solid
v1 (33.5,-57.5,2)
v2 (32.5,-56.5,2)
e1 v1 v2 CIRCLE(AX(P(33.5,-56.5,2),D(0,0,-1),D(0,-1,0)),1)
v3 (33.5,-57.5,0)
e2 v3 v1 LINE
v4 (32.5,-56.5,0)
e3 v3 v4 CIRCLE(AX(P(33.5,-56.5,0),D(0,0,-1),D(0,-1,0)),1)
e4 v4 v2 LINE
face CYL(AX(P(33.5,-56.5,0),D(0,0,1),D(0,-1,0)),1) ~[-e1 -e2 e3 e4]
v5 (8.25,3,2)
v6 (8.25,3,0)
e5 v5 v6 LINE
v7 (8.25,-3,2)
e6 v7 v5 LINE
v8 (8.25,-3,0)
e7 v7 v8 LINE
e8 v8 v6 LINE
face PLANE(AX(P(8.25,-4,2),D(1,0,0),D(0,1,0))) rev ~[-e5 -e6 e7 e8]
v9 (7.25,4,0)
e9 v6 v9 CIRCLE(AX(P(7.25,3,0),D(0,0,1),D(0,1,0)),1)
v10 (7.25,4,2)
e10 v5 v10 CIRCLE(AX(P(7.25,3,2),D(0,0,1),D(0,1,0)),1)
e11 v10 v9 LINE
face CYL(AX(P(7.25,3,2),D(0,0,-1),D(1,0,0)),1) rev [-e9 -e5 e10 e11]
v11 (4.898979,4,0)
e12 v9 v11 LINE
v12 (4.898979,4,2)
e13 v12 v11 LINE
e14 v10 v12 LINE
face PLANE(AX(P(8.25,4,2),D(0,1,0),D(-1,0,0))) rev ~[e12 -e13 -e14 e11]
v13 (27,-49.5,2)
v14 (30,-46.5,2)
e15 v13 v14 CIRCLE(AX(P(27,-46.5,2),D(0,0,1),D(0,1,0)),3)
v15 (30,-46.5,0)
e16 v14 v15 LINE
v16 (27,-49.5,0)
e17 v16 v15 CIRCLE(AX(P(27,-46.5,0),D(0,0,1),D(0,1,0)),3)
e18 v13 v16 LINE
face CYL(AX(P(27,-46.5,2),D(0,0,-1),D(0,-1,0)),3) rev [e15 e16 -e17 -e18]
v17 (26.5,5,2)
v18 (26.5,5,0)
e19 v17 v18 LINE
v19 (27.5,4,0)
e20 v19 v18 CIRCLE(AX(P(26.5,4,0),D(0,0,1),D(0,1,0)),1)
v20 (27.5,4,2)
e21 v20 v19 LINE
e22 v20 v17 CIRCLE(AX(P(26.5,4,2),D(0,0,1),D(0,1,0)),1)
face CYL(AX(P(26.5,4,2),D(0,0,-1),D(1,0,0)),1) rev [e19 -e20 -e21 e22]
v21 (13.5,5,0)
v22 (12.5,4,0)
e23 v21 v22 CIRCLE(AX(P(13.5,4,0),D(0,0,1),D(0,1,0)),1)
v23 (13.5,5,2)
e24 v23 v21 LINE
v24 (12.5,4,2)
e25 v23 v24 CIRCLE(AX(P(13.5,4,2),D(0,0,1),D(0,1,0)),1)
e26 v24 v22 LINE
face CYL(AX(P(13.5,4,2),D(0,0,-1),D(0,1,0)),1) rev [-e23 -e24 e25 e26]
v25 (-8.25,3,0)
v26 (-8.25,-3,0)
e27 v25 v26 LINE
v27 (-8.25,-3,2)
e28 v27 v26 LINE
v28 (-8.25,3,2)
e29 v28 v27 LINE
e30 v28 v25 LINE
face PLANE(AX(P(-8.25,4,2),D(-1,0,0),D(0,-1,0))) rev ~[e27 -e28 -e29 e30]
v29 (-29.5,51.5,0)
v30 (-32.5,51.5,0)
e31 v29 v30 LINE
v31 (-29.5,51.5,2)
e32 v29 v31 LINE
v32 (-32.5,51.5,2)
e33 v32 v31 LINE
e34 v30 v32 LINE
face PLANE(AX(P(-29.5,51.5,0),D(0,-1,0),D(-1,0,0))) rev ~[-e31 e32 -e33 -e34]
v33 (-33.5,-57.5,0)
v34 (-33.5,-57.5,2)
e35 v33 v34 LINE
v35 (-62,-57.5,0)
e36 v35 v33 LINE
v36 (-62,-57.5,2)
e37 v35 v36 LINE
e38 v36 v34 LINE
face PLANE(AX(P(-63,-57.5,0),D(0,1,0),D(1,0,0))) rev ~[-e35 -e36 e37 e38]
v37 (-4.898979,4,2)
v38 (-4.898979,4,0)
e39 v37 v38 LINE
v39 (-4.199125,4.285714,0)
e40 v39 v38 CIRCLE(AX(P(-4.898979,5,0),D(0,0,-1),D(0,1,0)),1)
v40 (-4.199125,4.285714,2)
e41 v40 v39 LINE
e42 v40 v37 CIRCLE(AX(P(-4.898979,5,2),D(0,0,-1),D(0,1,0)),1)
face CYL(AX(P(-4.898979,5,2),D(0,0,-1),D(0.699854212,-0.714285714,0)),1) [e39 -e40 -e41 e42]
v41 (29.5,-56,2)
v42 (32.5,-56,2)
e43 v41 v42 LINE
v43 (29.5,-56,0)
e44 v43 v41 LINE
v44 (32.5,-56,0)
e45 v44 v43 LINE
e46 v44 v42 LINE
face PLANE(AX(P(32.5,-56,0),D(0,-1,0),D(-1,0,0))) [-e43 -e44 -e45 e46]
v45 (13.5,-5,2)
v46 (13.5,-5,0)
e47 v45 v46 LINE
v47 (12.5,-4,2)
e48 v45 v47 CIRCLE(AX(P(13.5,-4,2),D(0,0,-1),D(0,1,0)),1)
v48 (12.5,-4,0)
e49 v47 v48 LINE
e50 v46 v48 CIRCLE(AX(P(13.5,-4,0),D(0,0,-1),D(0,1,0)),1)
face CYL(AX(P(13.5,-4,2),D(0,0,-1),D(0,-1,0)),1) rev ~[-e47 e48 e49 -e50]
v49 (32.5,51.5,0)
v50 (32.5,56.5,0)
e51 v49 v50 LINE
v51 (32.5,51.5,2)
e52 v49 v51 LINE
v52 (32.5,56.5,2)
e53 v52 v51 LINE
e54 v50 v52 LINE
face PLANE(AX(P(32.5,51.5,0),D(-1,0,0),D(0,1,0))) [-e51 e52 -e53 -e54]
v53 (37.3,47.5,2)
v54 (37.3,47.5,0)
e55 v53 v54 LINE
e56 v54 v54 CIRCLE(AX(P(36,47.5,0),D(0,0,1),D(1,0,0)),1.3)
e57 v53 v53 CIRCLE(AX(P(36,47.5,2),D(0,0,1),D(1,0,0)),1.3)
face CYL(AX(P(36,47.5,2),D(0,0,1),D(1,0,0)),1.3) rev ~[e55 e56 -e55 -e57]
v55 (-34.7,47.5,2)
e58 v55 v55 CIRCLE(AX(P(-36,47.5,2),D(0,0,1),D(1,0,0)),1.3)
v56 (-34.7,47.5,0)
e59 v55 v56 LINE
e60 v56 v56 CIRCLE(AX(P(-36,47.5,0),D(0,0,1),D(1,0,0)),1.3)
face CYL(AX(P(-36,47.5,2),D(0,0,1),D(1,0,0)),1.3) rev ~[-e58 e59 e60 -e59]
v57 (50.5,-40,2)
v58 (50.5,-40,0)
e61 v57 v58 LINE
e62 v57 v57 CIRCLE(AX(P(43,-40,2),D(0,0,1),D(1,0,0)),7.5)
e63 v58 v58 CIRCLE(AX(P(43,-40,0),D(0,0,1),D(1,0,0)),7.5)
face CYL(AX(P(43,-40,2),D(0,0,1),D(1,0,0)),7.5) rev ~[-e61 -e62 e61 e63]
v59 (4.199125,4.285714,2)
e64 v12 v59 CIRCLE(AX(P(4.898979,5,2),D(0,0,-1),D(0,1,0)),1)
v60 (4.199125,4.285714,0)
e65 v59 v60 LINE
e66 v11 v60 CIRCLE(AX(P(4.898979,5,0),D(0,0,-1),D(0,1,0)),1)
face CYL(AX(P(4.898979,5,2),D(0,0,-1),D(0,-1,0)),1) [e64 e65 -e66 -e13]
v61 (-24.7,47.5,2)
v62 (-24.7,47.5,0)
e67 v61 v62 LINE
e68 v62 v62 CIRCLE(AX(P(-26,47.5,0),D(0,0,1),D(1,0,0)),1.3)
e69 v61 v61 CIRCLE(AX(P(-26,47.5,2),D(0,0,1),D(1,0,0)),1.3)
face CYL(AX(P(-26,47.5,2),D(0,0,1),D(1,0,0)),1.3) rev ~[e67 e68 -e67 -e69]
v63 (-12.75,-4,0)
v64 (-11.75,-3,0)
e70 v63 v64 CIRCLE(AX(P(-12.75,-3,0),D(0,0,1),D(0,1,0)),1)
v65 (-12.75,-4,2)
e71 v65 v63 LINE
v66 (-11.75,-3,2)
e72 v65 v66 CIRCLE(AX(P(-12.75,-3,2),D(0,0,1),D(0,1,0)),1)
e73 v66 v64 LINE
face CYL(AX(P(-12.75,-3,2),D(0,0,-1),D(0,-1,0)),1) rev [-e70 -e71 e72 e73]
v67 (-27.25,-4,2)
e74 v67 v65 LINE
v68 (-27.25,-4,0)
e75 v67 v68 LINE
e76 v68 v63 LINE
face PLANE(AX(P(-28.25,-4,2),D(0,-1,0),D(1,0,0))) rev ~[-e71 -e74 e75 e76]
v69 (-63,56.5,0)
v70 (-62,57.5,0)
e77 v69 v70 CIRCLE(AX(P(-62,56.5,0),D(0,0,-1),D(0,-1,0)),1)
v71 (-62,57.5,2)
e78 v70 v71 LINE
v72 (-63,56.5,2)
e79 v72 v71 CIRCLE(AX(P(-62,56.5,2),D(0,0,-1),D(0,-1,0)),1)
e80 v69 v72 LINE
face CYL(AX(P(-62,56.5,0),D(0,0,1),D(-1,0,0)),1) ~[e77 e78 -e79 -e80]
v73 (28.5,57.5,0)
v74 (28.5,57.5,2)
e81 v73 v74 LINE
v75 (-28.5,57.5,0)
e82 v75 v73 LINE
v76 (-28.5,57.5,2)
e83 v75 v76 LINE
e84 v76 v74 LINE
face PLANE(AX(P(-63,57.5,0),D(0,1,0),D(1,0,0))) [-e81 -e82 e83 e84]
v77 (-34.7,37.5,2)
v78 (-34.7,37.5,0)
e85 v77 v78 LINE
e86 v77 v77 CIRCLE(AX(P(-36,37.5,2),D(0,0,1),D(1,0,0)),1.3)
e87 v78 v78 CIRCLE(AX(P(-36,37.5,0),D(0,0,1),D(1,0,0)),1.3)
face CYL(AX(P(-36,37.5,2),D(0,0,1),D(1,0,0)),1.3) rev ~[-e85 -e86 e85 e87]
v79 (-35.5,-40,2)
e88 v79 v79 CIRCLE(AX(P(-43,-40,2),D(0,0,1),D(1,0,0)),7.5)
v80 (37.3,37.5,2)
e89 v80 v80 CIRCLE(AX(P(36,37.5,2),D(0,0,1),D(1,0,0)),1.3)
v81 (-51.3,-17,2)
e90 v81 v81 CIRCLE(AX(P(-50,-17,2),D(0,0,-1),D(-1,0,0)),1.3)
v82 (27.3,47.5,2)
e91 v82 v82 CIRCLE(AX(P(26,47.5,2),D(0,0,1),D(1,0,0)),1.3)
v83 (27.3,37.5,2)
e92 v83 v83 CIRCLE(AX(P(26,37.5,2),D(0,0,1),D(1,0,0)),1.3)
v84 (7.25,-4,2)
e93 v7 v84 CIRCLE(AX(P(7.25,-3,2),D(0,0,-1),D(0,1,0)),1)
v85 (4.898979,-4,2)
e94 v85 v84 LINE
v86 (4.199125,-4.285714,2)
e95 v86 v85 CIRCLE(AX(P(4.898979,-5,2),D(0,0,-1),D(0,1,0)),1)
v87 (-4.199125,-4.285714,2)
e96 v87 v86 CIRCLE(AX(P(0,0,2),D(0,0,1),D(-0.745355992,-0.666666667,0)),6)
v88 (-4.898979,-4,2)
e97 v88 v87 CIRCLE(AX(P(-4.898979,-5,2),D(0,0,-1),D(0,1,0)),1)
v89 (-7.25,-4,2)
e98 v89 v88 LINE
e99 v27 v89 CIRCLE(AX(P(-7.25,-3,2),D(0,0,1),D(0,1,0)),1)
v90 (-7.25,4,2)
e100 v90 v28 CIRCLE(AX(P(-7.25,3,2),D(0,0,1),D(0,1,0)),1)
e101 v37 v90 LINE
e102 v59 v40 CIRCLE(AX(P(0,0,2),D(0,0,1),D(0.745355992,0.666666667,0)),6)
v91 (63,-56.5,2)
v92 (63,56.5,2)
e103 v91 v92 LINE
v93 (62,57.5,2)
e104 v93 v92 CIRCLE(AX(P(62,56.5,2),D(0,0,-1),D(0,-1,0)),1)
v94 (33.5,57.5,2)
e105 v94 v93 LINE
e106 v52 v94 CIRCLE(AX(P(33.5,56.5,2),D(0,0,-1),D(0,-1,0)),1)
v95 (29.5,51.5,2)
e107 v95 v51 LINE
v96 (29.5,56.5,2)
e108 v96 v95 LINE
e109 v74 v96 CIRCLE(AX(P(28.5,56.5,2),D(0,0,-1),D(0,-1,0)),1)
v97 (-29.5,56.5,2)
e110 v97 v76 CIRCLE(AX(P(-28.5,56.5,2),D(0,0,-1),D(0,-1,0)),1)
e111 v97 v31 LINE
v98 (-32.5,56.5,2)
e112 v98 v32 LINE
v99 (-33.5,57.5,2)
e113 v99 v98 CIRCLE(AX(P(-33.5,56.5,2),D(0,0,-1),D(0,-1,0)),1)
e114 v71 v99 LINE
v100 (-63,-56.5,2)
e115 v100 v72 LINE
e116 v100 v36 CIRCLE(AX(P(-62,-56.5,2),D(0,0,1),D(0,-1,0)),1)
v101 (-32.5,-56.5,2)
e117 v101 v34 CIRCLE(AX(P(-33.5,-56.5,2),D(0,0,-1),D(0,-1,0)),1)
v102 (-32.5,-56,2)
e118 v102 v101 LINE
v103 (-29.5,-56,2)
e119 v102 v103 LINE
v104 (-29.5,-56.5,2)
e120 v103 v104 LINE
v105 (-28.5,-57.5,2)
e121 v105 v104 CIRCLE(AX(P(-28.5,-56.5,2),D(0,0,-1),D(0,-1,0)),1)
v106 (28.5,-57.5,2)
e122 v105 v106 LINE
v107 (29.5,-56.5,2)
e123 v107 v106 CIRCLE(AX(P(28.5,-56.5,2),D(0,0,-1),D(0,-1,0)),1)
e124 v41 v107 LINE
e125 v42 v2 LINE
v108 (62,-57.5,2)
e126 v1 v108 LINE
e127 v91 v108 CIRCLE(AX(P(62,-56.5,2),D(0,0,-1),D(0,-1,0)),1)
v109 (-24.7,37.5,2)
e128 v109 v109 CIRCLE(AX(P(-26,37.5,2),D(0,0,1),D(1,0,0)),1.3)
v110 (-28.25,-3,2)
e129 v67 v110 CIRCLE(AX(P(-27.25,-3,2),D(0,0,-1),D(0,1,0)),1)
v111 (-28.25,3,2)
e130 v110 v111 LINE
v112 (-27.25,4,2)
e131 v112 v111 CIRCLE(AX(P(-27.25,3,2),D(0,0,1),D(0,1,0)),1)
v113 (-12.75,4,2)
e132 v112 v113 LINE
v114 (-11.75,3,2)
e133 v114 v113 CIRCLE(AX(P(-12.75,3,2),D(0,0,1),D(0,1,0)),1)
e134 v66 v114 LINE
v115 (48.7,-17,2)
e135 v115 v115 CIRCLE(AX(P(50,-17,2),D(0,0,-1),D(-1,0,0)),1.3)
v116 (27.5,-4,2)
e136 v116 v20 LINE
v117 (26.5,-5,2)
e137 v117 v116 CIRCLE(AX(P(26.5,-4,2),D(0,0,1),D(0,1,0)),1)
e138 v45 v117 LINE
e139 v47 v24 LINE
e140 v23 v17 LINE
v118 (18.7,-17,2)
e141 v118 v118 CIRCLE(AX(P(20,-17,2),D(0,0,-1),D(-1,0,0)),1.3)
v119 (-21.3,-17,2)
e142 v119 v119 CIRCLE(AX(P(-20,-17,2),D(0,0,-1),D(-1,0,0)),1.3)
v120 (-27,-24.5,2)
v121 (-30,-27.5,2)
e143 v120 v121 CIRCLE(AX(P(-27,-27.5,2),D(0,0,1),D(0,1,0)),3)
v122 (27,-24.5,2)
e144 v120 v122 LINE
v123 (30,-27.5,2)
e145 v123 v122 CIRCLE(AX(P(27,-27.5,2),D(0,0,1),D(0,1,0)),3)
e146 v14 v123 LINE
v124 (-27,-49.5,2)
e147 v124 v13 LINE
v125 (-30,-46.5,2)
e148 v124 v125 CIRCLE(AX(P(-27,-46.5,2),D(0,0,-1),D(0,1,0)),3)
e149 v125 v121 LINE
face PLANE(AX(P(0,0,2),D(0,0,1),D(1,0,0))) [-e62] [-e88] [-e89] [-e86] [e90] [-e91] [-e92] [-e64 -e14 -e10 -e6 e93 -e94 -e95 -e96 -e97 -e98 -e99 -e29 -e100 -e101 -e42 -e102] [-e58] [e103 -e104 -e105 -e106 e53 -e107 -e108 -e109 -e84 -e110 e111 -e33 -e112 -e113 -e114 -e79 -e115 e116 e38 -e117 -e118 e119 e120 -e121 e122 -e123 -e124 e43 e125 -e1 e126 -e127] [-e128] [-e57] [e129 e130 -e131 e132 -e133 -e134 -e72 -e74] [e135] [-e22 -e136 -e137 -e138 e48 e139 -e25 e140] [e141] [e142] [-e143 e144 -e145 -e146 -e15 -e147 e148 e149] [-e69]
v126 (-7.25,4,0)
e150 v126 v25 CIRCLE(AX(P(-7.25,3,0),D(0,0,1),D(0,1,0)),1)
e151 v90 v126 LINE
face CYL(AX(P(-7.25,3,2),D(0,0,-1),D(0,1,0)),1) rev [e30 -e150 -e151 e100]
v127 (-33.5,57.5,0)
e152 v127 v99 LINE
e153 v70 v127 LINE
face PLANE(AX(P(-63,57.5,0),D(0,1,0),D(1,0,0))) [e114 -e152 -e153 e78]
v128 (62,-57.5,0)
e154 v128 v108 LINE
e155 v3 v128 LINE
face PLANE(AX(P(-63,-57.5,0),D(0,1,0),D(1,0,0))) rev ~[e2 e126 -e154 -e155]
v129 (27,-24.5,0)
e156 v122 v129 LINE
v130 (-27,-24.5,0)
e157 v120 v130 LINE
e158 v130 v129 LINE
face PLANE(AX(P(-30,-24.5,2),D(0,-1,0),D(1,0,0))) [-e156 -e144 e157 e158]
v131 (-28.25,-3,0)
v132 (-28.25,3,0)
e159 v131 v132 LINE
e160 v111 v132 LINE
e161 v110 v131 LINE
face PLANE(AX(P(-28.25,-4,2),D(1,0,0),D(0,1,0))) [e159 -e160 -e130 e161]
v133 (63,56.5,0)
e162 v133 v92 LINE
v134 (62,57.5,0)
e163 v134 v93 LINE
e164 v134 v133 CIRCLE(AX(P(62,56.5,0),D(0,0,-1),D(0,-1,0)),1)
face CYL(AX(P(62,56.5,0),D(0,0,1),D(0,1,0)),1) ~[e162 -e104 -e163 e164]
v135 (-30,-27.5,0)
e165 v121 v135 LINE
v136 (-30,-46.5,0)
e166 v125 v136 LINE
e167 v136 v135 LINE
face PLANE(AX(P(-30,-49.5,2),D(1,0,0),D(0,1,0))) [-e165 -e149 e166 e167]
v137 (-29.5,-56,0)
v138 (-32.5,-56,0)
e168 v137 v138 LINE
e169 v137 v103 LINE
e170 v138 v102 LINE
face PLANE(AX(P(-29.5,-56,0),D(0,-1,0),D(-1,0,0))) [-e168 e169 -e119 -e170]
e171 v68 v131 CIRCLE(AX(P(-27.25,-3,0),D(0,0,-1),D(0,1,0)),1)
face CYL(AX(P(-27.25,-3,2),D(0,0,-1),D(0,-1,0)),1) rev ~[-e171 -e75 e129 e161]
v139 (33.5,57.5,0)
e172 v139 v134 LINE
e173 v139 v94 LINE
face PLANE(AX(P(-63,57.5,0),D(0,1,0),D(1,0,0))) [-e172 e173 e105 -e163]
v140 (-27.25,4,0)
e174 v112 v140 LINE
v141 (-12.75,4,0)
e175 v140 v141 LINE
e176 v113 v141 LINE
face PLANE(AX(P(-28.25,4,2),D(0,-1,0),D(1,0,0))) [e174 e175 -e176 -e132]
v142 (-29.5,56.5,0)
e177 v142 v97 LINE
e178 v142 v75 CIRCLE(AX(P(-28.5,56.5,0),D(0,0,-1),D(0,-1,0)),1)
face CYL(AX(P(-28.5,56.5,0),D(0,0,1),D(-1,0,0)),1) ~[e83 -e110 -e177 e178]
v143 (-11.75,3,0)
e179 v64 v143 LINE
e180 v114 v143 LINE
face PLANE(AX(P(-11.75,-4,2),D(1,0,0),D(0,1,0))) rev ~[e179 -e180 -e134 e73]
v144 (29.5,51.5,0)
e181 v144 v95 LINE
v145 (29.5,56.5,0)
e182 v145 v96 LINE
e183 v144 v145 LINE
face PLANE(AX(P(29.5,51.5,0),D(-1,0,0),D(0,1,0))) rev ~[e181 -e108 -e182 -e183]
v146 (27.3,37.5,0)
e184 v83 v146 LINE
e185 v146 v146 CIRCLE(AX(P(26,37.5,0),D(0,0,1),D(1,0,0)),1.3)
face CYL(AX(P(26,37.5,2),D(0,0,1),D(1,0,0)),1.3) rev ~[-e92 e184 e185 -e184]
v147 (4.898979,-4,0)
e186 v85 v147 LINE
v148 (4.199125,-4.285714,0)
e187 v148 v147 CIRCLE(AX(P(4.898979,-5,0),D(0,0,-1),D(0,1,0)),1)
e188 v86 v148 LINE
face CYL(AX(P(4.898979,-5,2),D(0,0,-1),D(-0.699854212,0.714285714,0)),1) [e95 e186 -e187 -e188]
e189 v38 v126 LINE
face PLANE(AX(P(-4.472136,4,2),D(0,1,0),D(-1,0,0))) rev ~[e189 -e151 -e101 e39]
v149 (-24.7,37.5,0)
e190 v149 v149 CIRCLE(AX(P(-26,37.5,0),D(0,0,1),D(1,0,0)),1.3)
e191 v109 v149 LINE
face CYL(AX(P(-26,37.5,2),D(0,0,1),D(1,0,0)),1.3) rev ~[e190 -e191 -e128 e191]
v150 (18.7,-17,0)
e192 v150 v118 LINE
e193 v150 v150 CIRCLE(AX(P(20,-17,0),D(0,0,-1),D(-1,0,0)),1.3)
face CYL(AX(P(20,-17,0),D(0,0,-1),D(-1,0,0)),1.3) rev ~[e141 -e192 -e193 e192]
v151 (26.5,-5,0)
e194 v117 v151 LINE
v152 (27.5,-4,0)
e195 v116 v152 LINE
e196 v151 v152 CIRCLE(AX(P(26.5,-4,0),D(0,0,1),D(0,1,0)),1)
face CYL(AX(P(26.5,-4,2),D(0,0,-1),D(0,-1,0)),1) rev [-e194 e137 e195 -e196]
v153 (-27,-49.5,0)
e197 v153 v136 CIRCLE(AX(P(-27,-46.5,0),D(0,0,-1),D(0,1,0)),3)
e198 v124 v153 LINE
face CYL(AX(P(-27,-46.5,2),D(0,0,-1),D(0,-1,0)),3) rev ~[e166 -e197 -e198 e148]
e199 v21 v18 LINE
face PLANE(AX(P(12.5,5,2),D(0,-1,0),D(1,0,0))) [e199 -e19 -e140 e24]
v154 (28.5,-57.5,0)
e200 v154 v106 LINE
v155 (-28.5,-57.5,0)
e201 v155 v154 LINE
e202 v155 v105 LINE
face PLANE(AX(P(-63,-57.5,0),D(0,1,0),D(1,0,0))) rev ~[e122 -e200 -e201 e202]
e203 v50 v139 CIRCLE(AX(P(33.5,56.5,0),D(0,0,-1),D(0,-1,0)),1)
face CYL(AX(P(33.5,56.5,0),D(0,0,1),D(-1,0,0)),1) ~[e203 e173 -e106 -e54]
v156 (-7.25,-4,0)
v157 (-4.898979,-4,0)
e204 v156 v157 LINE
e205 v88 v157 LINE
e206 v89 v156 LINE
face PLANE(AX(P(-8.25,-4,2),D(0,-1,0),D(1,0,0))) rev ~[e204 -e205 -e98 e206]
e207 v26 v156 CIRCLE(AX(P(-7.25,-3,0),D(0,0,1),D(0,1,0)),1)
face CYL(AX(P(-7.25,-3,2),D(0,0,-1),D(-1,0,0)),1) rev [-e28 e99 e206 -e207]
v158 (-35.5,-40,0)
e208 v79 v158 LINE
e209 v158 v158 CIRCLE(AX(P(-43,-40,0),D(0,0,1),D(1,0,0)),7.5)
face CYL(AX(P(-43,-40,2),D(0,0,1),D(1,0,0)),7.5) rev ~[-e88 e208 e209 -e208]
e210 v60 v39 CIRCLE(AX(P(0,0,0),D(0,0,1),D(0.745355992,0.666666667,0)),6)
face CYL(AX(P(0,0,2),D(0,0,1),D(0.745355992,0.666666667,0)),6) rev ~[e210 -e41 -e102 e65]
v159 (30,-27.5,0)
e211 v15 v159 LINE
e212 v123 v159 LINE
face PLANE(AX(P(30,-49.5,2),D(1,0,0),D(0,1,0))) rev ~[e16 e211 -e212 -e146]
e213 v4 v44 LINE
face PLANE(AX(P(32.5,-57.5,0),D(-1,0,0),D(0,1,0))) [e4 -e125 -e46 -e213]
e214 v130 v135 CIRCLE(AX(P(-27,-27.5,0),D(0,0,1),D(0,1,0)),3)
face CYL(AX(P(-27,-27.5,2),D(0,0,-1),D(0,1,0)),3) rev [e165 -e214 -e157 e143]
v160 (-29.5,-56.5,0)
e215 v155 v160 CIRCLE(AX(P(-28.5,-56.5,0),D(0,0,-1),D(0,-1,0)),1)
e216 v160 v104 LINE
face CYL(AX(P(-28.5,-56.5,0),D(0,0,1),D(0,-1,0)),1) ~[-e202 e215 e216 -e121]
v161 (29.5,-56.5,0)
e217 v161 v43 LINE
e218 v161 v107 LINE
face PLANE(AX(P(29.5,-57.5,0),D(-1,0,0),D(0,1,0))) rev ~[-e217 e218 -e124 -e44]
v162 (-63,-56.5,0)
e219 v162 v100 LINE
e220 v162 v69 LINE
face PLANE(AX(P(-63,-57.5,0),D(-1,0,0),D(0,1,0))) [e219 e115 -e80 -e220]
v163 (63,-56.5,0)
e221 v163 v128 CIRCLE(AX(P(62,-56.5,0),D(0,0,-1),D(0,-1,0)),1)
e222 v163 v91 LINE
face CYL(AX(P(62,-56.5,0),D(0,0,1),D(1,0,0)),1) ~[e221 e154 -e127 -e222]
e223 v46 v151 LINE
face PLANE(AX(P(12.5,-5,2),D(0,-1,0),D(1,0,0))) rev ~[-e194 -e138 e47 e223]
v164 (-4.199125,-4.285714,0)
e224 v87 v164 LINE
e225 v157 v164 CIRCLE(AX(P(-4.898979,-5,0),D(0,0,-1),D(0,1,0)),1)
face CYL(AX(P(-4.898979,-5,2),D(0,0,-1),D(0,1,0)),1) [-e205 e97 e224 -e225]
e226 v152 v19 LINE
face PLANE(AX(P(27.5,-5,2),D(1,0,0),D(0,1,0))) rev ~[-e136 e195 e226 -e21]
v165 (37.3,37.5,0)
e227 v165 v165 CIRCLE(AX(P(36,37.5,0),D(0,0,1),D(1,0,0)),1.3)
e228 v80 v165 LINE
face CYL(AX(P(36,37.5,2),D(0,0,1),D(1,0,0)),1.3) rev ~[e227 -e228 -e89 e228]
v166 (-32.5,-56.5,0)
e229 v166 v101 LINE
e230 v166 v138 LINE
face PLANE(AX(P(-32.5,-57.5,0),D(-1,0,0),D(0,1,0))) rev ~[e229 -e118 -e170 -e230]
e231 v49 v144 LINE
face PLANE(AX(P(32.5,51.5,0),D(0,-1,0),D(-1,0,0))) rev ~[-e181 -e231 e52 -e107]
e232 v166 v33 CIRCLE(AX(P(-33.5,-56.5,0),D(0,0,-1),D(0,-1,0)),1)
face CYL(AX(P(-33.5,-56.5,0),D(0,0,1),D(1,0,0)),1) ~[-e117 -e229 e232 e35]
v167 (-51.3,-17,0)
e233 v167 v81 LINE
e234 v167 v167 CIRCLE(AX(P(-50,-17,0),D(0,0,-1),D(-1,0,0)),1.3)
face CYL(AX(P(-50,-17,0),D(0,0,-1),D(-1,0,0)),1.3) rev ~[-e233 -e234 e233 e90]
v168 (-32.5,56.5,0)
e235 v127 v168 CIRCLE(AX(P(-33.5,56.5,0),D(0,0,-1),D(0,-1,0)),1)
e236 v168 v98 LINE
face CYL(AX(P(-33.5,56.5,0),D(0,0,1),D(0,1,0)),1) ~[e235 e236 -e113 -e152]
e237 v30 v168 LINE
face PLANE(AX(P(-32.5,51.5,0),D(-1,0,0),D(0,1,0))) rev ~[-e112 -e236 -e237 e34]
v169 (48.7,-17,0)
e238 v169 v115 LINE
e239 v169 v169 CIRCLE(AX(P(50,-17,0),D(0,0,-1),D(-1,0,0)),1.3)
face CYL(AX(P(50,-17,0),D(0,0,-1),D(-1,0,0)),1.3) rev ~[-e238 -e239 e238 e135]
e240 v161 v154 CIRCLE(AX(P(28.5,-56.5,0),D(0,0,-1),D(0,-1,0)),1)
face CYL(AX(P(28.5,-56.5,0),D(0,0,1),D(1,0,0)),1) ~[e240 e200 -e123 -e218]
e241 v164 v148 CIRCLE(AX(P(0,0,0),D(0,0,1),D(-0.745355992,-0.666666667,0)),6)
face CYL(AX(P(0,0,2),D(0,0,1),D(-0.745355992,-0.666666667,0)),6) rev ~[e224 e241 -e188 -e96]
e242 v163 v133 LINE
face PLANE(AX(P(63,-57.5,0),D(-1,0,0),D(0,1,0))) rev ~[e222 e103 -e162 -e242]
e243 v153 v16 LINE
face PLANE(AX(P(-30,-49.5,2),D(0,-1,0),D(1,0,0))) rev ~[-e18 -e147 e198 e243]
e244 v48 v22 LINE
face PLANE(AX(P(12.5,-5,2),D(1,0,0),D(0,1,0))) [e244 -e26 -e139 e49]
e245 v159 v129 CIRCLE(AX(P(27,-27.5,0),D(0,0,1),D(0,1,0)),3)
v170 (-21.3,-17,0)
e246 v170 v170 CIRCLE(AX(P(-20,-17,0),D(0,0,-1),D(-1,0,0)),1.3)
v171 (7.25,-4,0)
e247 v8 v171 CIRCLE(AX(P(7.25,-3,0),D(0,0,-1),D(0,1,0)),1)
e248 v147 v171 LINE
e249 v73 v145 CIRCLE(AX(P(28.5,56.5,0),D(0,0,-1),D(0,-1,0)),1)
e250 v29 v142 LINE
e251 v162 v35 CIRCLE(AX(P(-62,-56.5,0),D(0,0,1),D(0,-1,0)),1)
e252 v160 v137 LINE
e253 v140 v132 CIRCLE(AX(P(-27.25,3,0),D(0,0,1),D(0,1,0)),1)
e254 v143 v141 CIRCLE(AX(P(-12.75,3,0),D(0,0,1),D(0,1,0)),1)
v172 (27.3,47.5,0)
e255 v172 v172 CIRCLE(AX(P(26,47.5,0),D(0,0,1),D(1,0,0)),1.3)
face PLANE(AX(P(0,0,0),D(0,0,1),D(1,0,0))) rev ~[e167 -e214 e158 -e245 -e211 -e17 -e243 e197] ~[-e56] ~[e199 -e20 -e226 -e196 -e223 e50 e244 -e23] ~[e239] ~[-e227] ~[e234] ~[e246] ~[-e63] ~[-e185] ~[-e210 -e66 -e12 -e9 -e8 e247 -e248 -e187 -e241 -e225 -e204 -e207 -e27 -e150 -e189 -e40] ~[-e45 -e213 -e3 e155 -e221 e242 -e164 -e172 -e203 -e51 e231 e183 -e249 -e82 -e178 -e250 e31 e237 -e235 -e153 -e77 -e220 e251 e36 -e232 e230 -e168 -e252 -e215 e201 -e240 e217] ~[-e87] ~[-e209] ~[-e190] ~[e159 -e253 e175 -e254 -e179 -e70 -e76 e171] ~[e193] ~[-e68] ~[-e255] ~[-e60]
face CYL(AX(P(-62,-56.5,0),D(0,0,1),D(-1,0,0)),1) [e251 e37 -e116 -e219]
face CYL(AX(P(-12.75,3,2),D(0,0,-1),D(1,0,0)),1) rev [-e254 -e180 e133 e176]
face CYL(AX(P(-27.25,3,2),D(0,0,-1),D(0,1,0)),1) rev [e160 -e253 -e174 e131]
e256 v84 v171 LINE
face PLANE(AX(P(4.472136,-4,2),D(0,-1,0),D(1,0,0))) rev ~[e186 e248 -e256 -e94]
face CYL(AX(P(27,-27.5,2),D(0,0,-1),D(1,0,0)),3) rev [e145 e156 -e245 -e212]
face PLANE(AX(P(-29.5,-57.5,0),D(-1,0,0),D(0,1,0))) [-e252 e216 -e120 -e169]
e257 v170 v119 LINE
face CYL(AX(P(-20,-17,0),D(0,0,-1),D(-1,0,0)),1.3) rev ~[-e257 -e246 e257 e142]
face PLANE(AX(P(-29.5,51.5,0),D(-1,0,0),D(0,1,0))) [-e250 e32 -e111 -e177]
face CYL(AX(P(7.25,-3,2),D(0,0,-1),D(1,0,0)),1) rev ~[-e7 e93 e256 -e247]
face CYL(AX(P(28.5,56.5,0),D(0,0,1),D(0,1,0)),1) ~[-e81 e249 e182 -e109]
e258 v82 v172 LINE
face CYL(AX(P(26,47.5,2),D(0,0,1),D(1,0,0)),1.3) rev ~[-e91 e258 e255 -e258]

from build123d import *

# Parameters (mm, degrees)
SKETCH1_W           = 126
SKETCH1_H           = 115
BOSS_EXTRUDE1_DEPTH = 2
SKETCH2_R           = 7.5
SKETCH2_W           = 60
SKETCH2_H           = 25
CUT_EXTRUDE1_DEPTH  = 2
FILLET1_R           = 3
SKETCH3_R           = 1.3
CUT_EXTRUDE2_DEPTH  = 4
SKETCH4_W           = 3
SKETCH4_H           = 6
SKETCH4_H_2         = 1.5
CUT_EXTRUDE3_DEPTH  = 10
FILLET2_R           = 1
SKETCH6_W           = 15
SKETCH6_H           = 10
SKETCH6_W_2         = 16.5
SKETCH6_H_2         = 8
CUT_EXTRUDE5_DEPTH  = 10
FILLET3_R           = 1
SKETCH7_R           = 1.3
CUT_EXTRUDE6_DEPTH  = 2.5


with BuildPart() as part:
    # Sketch1 → Boss-Extrude1 (new body)
    with BuildSketch(Plane.XY):
        Rectangle(SKETCH1_W, SKETCH1_H)
    extrude(amount=BOSS_EXTRUDE1_DEPTH)

    # Sketch2 → Cut-Extrude1 (cut)
    with BuildSketch(Plane.XY.offset(2)):
        with Locations((-43, -40)):
            Circle(SKETCH2_R)
        with Locations((43, -40)):
            Circle(SKETCH2_R)
        with Locations((0, -37)):
            Rectangle(SKETCH2_W, SKETCH2_H)
    extrude(amount=-CUT_EXTRUDE1_DEPTH, mode=Mode.SUBTRACT)

    # Fillet1
    fillet1_edges = [part.edges().sort_by_distance(p)[0] for p in [
        (30, -24.5, 1),
        (30, -49.5, 1),
        (-30, -49.5, 1),
        (-30, -24.5, 1),
    ]]
    fillet(fillet1_edges, radius=FILLET1_R)

    # Sketch3 → Cut-Extrude2 (cut)
    with BuildSketch(Plane.XY.offset(2)):
        with Locations((-26, 47.5)):
            Circle(SKETCH3_R)
        with Locations((-36, 47.5)):
            Circle(SKETCH3_R)
        with Locations((36, 47.5)):
            Circle(SKETCH3_R)
        with Locations((26, 47.5)):
            Circle(SKETCH3_R)
        with Locations((-26, 37.5)):
            Circle(SKETCH3_R)
        with Locations((-36, 37.5)):
            Circle(SKETCH3_R)
        with Locations((36, 37.5)):
            Circle(SKETCH3_R)
        with Locations((26, 37.5)):
            Circle(SKETCH3_R)
    extrude(amount=-CUT_EXTRUDE2_DEPTH, mode=Mode.SUBTRACT)

    # Sketch4 → Cut-Extrude3 (cut)
    with BuildSketch(Plane(origin=(0, 0, 0), x_dir=(-1, 0, 0), z_dir=(0, 0, -1))):
        with Locations((-31, 54.5)):
            Rectangle(SKETCH4_W, SKETCH4_H)
        with Locations((31, 54.5)):
            Rectangle(SKETCH4_W, SKETCH4_H)
        with Locations((31, -56.75)):
            Rectangle(SKETCH4_W, SKETCH4_H_2)
        with Locations((-31, -56.75)):
            Rectangle(SKETCH4_W, SKETCH4_H_2)
    extrude(amount=-CUT_EXTRUDE3_DEPTH, mode=Mode.SUBTRACT)

    # Fillet2
    fillet2_edges = [part.edges().sort_by_distance(p)[0] for p in [
        (-29.5, -57.5, 1),
        (-32.5, -57.5, 1),
        (29.5, -57.5, 1),
        (32.5, -57.5, 1),
        (29.5, 57.5, 1),
        (32.5, 57.5, 1),
        (-32.5, 57.5, 1),
        (-29.5, 57.5, 1),
        (63, -57.5, 1),
        (-63, -57.5, 1),
        (-63, 57.5, 1),
        (63, 57.5, 1),
    ]]
    fillet(fillet2_edges, radius=FILLET2_R)

    # Sketch6 → Cut-Extrude5 (cut)
    with BuildSketch(Plane.XY.offset(2)):
        with Locations((20, 0)):
            Rectangle(SKETCH6_W, SKETCH6_H)
        with BuildLine():
            Line((4.472135955, 4), (-4.472135955, 4))
            ThreePointArc((-4.472135955, 4), (-6, 0), (-4.472135955, -4))
            Line((-4.472135955, -4), (4.472135955, -4))
            ThreePointArc((4.472135955, -4), (5.605034154, -2.140932539), (6, 0))
            ThreePointArc((6, 0), (5.605034154, 2.140932539), (4.472135955, 4))
        make_face()
        with BuildLine():
            Line((8.25, 4), (4.472135955, 4))
            ThreePointArc((4.472135955, 4), (5.605034154, 2.140932539), (6, 0))
            ThreePointArc((6, 0), (5.605034154, -2.140932539), (4.472135955, -4))
            Line((4.472135955, -4), (8.25, -4))
            Line((8.25, -4), (8.25, 4))
        make_face()
        with BuildLine():
            ThreePointArc((4.472135955, 4), (0, 6), (-4.472135955, 4))
            Line((-4.472135955, 4), (4.472135955, 4))
        make_face()
        with BuildLine():
            Line((-4.472135955, 4), (-8.25, 4))
            Line((-8.25, 4), (-8.25, -4))
            Line((-8.25, -4), (-4.472135955, -4))
            ThreePointArc((-4.472135955, -4), (-6, 0), (-4.472135955, 4))
        make_face()
        with BuildLine():
            Line((4.472135955, -4), (-4.472135955, -4))
            ThreePointArc((-4.472135955, -4), (0, -6), (4.472135955, -4))
        make_face()
        with Locations((-20, 0)):
            Rectangle(SKETCH6_W_2, SKETCH6_H_2)
    extrude(amount=-CUT_EXTRUDE5_DEPTH, mode=Mode.SUBTRACT)

    # Fillet3
    fillet3_edges = [part.edges().sort_by_distance(p)[0] for p in [
        (27.5, 5, 1),
        (27.5, -5, 1),
        (12.5, -5, 1),
        (12.5, 5, 1),
        (4.472135955, 4, 1),
        (8.25, 4, 1),
        (8.25, -4, 1),
        (4.472135955, -4, 1),
        (-4.472135955, -4, 1),
        (-8.25, -4, 1),
        (-8.25, 4, 1),
        (-4.472135955, 4, 1),
        (-11.75, 4, 1),
        (-11.75, -4, 1),
        (-28.25, -4, 1),
        (-28.25, 4, 1),
    ]]
    fillet(fillet3_edges, radius=FILLET3_R)

    # Sketch7 → Cut-Extrude6 (cut)
    with BuildSketch(Plane(origin=(0, 0, 0), x_dir=(-1, 0, 0), z_dir=(0, 0, -1))):
        with Locations((-50, -17)):
            Circle(SKETCH7_R)
        with Locations((-20, -17)):
            Circle(SKETCH7_R)
        with Locations((20, -17)):
            Circle(SKETCH7_R)
        with Locations((50, -17)):
            Circle(SKETCH7_R)
    extrude(amount=-CUT_EXTRUDE6_DEPTH, mode=Mode.SUBTRACT)


solid = part.part
